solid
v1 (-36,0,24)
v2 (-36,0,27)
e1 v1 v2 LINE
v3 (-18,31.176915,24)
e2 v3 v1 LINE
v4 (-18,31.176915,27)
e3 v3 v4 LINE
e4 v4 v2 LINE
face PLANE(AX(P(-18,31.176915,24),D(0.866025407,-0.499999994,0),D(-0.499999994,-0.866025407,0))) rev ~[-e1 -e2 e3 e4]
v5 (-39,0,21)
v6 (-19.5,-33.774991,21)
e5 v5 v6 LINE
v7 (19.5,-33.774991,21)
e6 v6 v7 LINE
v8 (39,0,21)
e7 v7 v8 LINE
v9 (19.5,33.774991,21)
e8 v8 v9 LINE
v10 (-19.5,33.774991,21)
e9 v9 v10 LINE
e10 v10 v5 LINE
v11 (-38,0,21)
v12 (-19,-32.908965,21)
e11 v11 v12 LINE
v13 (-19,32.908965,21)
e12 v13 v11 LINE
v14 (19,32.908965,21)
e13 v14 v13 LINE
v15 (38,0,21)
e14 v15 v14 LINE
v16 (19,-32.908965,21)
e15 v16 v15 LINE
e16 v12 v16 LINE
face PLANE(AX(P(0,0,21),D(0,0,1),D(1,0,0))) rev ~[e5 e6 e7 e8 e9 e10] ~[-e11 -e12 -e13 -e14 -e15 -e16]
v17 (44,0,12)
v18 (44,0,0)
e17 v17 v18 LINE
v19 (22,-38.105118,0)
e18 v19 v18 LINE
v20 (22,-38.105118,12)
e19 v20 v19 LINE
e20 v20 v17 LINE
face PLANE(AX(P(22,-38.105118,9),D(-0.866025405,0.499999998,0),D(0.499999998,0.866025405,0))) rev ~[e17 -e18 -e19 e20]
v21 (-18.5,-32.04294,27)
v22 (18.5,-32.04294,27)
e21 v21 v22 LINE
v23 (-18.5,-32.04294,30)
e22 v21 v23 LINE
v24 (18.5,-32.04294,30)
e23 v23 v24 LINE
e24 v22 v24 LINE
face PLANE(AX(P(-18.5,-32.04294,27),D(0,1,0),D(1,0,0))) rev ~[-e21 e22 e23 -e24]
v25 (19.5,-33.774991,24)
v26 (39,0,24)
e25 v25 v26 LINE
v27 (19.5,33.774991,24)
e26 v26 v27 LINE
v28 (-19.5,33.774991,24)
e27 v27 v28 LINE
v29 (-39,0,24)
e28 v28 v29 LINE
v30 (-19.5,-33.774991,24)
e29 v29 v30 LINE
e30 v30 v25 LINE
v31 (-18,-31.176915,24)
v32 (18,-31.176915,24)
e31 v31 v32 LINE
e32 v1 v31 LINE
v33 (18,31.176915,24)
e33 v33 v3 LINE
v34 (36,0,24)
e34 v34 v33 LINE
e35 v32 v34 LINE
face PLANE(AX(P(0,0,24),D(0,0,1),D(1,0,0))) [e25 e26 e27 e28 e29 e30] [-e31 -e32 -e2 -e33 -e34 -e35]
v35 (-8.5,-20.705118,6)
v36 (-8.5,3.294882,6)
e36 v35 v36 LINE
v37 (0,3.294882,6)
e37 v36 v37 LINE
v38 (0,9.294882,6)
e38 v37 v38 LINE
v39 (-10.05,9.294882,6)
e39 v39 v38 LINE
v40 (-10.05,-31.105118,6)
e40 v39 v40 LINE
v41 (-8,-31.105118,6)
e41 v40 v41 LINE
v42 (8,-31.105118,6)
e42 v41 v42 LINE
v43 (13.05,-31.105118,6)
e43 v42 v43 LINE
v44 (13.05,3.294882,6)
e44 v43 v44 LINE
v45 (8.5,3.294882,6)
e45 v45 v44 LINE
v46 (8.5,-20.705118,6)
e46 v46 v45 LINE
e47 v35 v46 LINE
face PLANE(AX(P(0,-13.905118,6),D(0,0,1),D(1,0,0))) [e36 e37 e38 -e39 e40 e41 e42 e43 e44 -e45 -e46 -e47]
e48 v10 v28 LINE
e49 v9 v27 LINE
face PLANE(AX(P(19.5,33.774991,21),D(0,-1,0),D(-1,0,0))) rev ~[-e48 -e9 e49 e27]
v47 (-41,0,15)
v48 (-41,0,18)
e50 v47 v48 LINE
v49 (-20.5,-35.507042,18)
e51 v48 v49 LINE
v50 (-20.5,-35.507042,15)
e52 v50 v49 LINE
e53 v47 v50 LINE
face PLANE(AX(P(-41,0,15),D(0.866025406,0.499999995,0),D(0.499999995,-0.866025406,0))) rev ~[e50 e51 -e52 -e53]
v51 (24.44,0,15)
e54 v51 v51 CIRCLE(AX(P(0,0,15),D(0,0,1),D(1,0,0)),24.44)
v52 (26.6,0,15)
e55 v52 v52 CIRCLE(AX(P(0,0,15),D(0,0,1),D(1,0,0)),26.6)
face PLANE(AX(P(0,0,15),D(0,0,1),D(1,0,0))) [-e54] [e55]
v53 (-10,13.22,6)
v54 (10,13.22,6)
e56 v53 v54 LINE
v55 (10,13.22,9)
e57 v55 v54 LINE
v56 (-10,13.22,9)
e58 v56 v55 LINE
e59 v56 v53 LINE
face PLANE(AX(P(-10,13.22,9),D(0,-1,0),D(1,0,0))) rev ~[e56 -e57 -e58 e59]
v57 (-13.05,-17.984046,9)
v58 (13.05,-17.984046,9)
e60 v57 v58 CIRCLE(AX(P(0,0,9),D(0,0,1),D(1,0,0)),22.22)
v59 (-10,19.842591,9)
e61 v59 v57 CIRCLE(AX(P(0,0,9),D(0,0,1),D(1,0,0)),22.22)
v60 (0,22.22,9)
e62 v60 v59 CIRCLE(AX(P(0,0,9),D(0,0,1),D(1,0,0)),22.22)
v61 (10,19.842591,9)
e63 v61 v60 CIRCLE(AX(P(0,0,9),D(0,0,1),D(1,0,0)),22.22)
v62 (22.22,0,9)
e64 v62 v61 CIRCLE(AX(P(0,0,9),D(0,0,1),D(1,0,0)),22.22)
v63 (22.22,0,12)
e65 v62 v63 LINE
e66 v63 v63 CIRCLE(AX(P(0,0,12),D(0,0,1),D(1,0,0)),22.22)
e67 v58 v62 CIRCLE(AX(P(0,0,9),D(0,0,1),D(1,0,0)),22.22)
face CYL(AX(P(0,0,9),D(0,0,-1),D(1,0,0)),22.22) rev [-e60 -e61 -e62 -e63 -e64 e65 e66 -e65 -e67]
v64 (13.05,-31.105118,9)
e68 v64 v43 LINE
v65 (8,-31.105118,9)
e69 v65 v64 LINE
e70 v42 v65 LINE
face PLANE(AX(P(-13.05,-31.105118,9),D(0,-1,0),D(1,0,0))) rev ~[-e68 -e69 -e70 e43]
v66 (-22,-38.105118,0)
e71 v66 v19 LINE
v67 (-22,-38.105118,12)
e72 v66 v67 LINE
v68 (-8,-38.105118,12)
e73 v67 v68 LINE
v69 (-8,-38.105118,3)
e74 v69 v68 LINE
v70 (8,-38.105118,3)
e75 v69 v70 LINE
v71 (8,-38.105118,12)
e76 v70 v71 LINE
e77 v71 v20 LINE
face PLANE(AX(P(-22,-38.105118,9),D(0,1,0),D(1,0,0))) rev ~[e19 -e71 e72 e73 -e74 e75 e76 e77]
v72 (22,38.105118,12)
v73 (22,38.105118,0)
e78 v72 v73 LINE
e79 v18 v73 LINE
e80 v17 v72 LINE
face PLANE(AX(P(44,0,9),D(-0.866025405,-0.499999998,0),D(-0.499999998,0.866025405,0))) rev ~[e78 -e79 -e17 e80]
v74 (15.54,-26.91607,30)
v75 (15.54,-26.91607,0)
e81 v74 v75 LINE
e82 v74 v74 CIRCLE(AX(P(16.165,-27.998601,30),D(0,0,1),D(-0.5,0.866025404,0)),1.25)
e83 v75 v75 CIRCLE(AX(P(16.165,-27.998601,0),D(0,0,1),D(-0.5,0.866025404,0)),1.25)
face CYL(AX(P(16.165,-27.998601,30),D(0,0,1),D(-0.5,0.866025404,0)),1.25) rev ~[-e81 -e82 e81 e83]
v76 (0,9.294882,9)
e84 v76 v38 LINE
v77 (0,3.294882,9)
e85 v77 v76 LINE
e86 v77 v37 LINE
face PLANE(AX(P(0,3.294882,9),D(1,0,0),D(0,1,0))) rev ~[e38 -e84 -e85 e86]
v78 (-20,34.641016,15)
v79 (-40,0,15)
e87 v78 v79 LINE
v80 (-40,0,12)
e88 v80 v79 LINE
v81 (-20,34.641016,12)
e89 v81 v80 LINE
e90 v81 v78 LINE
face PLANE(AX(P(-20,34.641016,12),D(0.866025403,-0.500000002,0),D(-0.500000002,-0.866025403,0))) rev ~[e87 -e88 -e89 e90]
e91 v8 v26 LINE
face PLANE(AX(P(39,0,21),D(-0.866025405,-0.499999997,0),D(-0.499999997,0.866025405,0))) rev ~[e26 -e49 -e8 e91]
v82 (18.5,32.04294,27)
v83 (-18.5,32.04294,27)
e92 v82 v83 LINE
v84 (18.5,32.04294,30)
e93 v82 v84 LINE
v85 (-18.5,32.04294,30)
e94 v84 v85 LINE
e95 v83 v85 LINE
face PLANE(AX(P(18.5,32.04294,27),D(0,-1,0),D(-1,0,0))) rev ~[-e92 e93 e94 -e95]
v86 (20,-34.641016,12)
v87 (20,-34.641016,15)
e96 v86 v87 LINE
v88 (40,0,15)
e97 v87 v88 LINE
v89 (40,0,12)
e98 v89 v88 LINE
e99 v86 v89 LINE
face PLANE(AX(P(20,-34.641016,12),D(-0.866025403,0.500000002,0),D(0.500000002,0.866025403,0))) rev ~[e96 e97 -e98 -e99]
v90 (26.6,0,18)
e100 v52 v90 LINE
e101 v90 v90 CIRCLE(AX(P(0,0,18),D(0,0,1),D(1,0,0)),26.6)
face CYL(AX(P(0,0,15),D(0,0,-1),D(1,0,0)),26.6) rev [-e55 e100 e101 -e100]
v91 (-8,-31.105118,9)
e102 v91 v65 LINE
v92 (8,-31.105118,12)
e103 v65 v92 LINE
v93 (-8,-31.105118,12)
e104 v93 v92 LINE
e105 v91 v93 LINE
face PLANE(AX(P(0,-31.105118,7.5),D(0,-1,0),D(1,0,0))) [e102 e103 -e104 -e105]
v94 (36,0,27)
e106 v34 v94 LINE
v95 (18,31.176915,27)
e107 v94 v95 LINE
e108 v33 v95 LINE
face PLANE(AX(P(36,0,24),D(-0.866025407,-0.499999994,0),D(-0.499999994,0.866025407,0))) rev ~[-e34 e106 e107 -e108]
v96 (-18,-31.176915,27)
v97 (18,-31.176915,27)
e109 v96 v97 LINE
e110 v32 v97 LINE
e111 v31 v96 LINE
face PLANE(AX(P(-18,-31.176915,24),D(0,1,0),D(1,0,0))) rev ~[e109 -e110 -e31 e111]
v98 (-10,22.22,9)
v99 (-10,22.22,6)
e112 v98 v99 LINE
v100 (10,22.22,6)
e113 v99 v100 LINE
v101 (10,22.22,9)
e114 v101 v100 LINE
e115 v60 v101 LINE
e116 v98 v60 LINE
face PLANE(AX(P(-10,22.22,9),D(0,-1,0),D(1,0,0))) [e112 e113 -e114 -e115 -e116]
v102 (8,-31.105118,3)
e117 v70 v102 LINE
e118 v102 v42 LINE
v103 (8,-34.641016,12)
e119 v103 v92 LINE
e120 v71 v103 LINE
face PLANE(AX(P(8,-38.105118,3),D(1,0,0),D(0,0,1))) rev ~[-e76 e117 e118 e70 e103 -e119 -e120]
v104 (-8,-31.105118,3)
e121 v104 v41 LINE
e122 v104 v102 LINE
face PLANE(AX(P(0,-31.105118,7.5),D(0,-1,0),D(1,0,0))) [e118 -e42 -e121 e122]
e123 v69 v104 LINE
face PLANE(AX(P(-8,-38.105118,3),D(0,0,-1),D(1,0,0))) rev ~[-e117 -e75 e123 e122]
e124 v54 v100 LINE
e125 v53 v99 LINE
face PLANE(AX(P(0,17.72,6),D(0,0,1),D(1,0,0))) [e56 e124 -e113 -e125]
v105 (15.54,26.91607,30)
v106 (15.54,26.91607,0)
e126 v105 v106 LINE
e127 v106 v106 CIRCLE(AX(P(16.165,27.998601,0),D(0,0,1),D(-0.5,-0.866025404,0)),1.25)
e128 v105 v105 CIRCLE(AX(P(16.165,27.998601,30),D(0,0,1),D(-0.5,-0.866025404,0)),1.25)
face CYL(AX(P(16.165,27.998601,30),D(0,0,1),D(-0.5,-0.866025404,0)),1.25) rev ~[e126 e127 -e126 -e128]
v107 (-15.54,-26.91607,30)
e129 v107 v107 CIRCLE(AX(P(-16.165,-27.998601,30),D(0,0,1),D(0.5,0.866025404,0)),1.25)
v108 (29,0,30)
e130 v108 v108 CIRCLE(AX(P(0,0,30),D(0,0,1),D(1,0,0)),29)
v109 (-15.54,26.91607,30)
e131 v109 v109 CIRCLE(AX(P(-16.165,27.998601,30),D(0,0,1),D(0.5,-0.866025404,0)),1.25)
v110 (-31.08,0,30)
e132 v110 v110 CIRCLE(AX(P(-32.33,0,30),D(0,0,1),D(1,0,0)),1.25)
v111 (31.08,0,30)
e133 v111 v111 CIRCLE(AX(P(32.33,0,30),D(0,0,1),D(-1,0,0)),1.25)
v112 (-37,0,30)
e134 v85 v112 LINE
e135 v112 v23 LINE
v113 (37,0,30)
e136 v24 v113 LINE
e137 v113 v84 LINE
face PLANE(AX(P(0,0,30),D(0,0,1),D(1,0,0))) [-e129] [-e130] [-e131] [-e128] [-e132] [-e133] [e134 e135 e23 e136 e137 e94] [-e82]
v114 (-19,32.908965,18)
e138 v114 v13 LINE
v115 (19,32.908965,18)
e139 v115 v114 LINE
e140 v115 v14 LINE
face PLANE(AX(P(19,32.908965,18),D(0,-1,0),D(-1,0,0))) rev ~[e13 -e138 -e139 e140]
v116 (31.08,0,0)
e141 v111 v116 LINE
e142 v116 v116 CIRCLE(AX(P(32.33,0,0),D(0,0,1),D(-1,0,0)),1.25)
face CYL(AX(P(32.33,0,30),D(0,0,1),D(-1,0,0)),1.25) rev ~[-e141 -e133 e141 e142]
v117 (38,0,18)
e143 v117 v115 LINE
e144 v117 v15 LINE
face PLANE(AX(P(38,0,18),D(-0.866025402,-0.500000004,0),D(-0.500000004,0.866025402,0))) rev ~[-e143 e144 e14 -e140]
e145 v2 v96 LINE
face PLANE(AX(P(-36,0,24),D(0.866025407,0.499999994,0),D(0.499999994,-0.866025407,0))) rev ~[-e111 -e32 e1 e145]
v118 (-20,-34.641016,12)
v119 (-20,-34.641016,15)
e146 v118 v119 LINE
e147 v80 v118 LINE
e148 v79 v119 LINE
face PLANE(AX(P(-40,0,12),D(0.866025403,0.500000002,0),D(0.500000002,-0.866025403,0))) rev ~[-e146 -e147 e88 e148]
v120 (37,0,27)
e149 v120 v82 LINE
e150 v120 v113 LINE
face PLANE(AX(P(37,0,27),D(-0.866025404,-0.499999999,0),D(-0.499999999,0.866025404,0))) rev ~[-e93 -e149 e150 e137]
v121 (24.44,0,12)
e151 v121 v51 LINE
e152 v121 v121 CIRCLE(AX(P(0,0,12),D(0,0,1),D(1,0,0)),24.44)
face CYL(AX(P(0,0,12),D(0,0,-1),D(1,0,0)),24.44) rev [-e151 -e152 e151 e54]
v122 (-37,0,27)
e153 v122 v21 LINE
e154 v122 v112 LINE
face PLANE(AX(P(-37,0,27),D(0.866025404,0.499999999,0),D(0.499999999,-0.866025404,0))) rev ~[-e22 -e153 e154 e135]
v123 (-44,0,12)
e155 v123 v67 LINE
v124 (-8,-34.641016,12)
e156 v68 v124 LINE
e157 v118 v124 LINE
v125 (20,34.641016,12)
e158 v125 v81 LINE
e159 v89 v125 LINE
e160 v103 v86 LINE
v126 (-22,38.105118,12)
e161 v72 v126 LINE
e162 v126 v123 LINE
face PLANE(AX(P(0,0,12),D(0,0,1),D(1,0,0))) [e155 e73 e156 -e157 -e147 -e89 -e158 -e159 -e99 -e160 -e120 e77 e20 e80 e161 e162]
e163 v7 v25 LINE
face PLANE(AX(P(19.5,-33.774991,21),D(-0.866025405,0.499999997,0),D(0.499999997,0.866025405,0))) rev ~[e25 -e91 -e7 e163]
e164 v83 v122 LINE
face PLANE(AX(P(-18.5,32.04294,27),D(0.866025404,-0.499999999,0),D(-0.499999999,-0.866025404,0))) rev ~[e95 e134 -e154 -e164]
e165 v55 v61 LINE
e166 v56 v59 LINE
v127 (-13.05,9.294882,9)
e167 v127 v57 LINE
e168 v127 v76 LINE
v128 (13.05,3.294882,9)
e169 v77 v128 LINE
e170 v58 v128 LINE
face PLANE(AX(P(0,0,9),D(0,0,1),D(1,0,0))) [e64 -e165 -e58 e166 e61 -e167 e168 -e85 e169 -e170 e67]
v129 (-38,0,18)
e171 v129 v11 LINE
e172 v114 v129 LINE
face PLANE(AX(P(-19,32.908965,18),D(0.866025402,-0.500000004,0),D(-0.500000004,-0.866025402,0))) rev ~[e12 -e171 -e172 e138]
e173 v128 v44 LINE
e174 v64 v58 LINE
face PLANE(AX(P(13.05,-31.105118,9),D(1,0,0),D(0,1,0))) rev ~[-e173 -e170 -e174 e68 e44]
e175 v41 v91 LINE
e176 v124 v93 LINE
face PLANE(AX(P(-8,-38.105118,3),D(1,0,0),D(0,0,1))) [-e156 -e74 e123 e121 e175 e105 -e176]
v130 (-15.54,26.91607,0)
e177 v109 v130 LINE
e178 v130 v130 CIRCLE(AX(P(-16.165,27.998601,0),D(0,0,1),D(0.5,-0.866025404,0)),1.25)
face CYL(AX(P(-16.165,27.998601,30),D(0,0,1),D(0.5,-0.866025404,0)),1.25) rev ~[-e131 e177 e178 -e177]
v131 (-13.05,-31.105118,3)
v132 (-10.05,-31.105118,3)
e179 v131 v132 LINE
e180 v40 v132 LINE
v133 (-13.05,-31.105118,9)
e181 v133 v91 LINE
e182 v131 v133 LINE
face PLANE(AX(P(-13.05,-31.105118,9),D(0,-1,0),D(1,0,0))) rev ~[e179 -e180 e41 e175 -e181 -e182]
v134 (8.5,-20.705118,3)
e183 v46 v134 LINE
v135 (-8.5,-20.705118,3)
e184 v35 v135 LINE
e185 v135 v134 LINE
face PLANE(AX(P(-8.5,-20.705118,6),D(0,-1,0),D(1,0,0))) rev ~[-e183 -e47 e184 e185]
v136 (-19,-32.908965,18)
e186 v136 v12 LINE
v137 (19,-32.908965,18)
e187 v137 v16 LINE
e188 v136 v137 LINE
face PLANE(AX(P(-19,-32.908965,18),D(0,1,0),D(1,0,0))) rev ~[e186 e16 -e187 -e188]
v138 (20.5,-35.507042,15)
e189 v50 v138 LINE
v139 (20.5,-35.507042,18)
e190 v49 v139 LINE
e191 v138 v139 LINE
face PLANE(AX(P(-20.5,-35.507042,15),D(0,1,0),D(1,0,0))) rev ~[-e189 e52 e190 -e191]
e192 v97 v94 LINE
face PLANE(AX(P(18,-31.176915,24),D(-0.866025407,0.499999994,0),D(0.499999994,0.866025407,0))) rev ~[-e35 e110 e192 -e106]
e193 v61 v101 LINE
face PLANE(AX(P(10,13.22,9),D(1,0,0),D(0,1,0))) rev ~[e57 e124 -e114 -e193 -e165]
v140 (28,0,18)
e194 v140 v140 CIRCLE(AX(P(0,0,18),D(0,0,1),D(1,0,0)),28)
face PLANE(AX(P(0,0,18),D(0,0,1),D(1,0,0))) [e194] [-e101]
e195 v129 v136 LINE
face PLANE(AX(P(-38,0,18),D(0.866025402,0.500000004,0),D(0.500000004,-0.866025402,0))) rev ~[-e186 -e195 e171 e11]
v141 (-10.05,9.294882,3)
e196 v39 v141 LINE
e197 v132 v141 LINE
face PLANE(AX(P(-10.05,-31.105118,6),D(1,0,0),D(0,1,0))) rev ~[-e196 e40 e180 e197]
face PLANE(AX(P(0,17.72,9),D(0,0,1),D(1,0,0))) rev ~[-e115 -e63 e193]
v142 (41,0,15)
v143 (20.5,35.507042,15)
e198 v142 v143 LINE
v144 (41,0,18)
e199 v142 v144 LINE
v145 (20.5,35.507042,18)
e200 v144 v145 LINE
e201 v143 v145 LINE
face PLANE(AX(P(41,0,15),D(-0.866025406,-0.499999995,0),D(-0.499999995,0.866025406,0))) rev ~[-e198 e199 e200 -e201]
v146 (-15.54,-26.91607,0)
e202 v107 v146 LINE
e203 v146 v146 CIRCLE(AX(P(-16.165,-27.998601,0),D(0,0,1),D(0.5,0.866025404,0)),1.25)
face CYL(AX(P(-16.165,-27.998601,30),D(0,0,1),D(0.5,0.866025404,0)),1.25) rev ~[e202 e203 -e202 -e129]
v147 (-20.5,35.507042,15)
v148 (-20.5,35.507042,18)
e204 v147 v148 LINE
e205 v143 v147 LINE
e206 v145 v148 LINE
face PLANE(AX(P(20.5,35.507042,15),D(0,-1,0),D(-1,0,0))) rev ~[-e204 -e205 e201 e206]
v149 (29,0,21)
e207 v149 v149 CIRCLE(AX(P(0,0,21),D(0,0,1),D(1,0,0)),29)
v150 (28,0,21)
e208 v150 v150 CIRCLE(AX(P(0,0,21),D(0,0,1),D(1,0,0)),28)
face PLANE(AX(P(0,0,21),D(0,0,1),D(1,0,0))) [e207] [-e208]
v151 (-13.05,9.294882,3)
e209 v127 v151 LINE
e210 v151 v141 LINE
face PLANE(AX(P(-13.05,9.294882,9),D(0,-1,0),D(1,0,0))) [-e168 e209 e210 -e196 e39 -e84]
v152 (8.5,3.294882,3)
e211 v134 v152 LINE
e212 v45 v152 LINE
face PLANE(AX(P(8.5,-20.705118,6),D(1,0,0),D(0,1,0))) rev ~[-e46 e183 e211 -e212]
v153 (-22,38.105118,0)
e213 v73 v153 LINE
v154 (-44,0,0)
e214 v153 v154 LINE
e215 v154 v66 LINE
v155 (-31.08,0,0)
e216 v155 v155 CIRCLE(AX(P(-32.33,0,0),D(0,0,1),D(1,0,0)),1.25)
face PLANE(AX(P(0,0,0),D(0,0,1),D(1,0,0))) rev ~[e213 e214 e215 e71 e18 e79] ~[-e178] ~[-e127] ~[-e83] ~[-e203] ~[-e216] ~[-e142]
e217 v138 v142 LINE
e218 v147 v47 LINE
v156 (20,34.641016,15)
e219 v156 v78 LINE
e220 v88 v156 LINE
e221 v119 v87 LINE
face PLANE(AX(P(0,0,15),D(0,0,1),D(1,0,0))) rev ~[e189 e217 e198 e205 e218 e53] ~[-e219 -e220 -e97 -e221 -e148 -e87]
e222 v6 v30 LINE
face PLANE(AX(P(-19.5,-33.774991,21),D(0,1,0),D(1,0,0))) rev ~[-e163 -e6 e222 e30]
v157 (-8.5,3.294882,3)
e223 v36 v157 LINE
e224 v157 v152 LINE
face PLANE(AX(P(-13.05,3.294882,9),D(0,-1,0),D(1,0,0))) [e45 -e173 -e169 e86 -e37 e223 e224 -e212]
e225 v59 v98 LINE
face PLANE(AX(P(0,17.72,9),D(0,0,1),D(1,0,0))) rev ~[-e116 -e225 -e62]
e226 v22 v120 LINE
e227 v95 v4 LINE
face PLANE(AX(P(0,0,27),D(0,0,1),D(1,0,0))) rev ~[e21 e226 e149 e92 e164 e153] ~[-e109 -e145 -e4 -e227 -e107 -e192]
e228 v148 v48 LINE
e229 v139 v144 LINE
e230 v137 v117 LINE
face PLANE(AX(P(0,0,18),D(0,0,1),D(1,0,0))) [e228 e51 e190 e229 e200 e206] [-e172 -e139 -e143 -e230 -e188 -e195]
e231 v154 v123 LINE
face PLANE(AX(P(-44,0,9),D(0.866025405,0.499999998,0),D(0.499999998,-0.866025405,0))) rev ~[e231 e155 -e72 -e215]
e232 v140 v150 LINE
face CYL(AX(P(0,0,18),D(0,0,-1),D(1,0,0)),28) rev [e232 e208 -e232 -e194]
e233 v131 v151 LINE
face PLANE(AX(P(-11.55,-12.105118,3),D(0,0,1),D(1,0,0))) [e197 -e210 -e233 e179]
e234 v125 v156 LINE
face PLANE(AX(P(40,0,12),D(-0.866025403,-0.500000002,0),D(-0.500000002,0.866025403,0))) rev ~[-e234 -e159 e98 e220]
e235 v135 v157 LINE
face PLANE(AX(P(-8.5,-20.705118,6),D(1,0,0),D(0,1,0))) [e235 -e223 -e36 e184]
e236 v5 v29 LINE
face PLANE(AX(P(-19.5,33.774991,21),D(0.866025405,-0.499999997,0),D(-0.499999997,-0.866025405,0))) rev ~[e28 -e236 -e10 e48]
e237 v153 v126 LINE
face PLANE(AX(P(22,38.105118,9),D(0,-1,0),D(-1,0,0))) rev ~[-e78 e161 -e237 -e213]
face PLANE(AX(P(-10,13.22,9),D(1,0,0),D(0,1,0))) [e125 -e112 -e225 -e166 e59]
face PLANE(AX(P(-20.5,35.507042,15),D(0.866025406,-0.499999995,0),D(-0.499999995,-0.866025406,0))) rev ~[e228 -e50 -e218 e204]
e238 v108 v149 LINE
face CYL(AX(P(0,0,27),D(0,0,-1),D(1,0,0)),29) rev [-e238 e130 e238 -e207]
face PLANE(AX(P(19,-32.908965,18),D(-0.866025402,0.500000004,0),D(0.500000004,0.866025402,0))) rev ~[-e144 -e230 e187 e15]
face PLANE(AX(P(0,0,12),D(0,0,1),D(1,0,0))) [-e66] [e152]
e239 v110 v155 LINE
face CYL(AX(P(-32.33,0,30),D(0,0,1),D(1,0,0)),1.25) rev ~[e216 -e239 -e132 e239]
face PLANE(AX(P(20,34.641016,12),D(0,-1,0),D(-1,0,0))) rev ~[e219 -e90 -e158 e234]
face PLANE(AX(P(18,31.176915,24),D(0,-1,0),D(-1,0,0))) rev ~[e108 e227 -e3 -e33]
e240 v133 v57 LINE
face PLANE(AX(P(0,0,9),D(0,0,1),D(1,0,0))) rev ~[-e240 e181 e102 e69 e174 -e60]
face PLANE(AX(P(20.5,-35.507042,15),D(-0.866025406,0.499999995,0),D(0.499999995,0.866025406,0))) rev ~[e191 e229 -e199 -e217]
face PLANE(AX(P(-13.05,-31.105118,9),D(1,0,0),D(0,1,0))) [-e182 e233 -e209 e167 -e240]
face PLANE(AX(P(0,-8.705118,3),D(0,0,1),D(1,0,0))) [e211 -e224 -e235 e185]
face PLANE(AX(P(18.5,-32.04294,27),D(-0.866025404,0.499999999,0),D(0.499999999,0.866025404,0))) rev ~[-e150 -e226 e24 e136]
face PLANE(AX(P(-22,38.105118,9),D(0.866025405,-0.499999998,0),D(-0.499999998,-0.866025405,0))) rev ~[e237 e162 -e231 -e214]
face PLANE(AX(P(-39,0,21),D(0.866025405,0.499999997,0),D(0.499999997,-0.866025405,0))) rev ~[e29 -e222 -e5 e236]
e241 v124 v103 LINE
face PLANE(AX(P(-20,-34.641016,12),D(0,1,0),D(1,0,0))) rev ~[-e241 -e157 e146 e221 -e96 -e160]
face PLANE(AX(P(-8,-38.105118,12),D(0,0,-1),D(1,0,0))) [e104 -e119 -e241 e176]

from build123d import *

# Parameters (mm, degrees)
PAD_DEPTH          = 9
SKETCH001_W        = 26.1
SKETCH001_H        = 34.4
POCKET_DEPTH       = 3
SKETCH002_R        = 22.22
PAD001_DEPTH       = 3
SKETCH003_R        = 24.44
PAD002_DEPTH       = 3
SKETCH004_R        = 26.6
PAD003_DEPTH       = 3
SKETCH005_R        = 28
PAD004_DEPTH       = 3
SKETCH006_R        = 29
PAD005_DEPTH       = 3
SKETCH007_R        = 29
PAD006_DEPTH       = 3
SKETCH008_R        = 29
PAD007_DEPTH       = 3
SKETCH009_W        = 17
SKETCH009_H        = 24
POCKET001_DEPTH    = 3
SKETCH010_W        = 16
SKETCH010_H        = 9
POCKET002_DEPTH    = 7
SKETCH011_W        = 20
SKETCH011_H        = 9
POCKET003_DEPTH    = 3
SKETCH012_R        = 1.25
POCKET004_DEPTH    = 270.433943
POLARPATTERN_COUNT = 6
SKETCH013_W        = 3
SKETCH013_H        = 38
POCKET005_DEPTH    = 3
SKETCH014_W        = 3
SKETCH014_H        = 6
POCKET006_DEPTH    = 6
SKETCH015_W        = 10.05
SKETCH015_H        = 6
POCKET007_DEPTH    = 3


with BuildPart() as part:
    # Sketch → Pad (new body)
    with BuildSketch(Plane.XY):
        Polygon((44, 0), (22, 38.105118), (-22, 38.105118), (-44, 0), (-22, -38.105118), (22, -38.105118), align=None)
    extrude(amount=PAD_DEPTH)

    # Sketch001 (on Face8 of Pad) → Pocket (cut)
    with BuildSketch(Plane.XY.offset(9)):
        with Locations((0, -13.905118)):
            Rectangle(SKETCH001_W, SKETCH001_H)
    extrude(amount=-POCKET_DEPTH, mode=Mode.SUBTRACT)

    # Sketch002 (on Face5 of Pocket) → Pad001 (join)
    with BuildSketch(Plane.XY.offset(9)):
        Polygon((22, 38.105118), (-22, 38.105118), (-44, 0), (-22, -38.105118), (22, -38.105118), (44, 0), align=None)
        Circle(SKETCH002_R, mode=Mode.SUBTRACT)
    extrude(amount=PAD001_DEPTH)

    # Sketch003 (on Face14 of Pad001) → Pad002 (join)
    with BuildSketch(Plane.XY.offset(12)):
        Polygon((40, 0), (20, 34.641016), (-20, 34.641016), (-40, 0), (-20, -34.641016), (20, -34.641016), align=None)
        Circle(SKETCH003_R, mode=Mode.SUBTRACT)
    extrude(amount=PAD002_DEPTH)

    # Sketch004 (on Face21 of Pad002) → Pad003 (join)
    with BuildSketch(Plane.XY.offset(15)):
        Polygon((41, 0), (20.5, 35.507042), (-20.5, 35.507042), (-41, 0), (-20.5, -35.507042), (20.5, -35.507042), align=None)
        Circle(SKETCH004_R, mode=Mode.SUBTRACT)
    extrude(amount=PAD003_DEPTH)

    # Sketch005 (on Face28 of Pad003) → Pad004 (join)
    with BuildSketch(Plane.XY.offset(18)):
        Polygon((19, 32.908965), (-19, 32.908965), (-38, 0), (-19, -32.908965), (19, -32.908965), (38, 0), align=None)
        Circle(SKETCH005_R, mode=Mode.SUBTRACT)
    extrude(amount=PAD004_DEPTH)

    # Sketch006 (on Face35 of Pad004) → Pad005 (join)
    with BuildSketch(Plane.XY.offset(21)):
        Polygon((39, 0), (19.5, 33.774991), (-19.5, 33.774991), (-39, 0), (-19.5, -33.774991), (19.5, -33.774991), align=None)
        Circle(SKETCH006_R, mode=Mode.SUBTRACT)
    extrude(amount=PAD005_DEPTH)

    # Sketch007 (on Face42 of Pad005) → Pad006 (join)
    with BuildSketch(Plane.XY.offset(24)):
        Polygon((36, 0), (18, 31.176915), (-18, 31.176915), (-36, 0), (-18, -31.176915), (18, -31.176915), align=None)
        Circle(SKETCH007_R, mode=Mode.SUBTRACT)
    extrude(amount=PAD006_DEPTH)

    # Sketch008 (on Face49 of Pad006) → Pad007 (join)
    with BuildSketch(Plane.XY.offset(27)):
        Polygon((37, 0), (18.5, 32.04294), (-18.5, 32.04294), (-37, 0), (-18.5, -32.04294), (18.5, -32.04294), align=None)
        Circle(SKETCH008_R, mode=Mode.SUBTRACT)
    extrude(amount=PAD007_DEPTH)

    # Sketch009 (on Face74 of Pad007) → Pocket001 (cut)
    with BuildSketch(Plane.XY.offset(6)):
        with Locations((0, -8.705118)):
            Rectangle(SKETCH009_W, SKETCH009_H)
    extrude(amount=-POCKET001_DEPTH, mode=Mode.SUBTRACT)

    # Sketch010 (on Face12 of Pocket001) → Pocket002 (cut)
    with BuildSketch(Plane.XZ.offset(38.105118)):
        with Locations((0, 7.5)):
            Rectangle(SKETCH010_W, SKETCH010_H)
    extrude(amount=-POCKET002_DEPTH, mode=Mode.SUBTRACT)

    # Sketch011 (on Face40 of Pocket002) → Pocket003 (cut)
    with BuildSketch(Plane.XY.offset(9)):
        with Locations((0, 17.72)):
            Rectangle(SKETCH011_W, SKETCH011_H)
    extrude(amount=-POCKET003_DEPTH, mode=Mode.SUBTRACT)

    # Sketch012 (on Face93 of Pocket003) → Pocket004 (cut, through all)
    with BuildSketch(Plane.XY.offset(30)):
        with Locations((-32.33, 0)):
            Circle(SKETCH012_R)
    pocket004 = extrude(amount=-POCKET004_DEPTH, mode=Mode.SUBTRACT)

    # PolarPattern: Pocket004 ×6 about axis
    polarpattern_axis = Axis((0, 0, 30), (0, 0, 1))
    for i in range(1, POLARPATTERN_COUNT):
        add(pocket004.rotate(polarpattern_axis, i * 360 / POLARPATTERN_COUNT), mode=Mode.SUBTRACT)

    # Sketch013 (on Face45 of PolarPattern) → Pocket005 (cut)
    with BuildSketch(Plane.XY.offset(6)):
        with Locations((-11.55, -12.105118)):
            Rectangle(SKETCH013_W, SKETCH013_H)
    extrude(amount=-POCKET005_DEPTH, mode=Mode.SUBTRACT)

    # Sketch014 (on Face58 of Pocket005) → Pocket006 (cut)
    with BuildSketch(Plane.XY.offset(9)):
        with Locations((-11.55, 6.294882)):
            Rectangle(SKETCH014_W, SKETCH014_H)
    extrude(amount=-POCKET006_DEPTH, mode=Mode.SUBTRACT)

    # Sketch015 (on Face58 of Pocket006) → Pocket007 (cut)
    with BuildSketch(Plane.XY.offset(9)):
        with Locations((-5.025, 6.294882)):
            Rectangle(SKETCH015_W, SKETCH015_H)
    extrude(amount=-POCKET007_DEPTH, mode=Mode.SUBTRACT)


solid = part.part
